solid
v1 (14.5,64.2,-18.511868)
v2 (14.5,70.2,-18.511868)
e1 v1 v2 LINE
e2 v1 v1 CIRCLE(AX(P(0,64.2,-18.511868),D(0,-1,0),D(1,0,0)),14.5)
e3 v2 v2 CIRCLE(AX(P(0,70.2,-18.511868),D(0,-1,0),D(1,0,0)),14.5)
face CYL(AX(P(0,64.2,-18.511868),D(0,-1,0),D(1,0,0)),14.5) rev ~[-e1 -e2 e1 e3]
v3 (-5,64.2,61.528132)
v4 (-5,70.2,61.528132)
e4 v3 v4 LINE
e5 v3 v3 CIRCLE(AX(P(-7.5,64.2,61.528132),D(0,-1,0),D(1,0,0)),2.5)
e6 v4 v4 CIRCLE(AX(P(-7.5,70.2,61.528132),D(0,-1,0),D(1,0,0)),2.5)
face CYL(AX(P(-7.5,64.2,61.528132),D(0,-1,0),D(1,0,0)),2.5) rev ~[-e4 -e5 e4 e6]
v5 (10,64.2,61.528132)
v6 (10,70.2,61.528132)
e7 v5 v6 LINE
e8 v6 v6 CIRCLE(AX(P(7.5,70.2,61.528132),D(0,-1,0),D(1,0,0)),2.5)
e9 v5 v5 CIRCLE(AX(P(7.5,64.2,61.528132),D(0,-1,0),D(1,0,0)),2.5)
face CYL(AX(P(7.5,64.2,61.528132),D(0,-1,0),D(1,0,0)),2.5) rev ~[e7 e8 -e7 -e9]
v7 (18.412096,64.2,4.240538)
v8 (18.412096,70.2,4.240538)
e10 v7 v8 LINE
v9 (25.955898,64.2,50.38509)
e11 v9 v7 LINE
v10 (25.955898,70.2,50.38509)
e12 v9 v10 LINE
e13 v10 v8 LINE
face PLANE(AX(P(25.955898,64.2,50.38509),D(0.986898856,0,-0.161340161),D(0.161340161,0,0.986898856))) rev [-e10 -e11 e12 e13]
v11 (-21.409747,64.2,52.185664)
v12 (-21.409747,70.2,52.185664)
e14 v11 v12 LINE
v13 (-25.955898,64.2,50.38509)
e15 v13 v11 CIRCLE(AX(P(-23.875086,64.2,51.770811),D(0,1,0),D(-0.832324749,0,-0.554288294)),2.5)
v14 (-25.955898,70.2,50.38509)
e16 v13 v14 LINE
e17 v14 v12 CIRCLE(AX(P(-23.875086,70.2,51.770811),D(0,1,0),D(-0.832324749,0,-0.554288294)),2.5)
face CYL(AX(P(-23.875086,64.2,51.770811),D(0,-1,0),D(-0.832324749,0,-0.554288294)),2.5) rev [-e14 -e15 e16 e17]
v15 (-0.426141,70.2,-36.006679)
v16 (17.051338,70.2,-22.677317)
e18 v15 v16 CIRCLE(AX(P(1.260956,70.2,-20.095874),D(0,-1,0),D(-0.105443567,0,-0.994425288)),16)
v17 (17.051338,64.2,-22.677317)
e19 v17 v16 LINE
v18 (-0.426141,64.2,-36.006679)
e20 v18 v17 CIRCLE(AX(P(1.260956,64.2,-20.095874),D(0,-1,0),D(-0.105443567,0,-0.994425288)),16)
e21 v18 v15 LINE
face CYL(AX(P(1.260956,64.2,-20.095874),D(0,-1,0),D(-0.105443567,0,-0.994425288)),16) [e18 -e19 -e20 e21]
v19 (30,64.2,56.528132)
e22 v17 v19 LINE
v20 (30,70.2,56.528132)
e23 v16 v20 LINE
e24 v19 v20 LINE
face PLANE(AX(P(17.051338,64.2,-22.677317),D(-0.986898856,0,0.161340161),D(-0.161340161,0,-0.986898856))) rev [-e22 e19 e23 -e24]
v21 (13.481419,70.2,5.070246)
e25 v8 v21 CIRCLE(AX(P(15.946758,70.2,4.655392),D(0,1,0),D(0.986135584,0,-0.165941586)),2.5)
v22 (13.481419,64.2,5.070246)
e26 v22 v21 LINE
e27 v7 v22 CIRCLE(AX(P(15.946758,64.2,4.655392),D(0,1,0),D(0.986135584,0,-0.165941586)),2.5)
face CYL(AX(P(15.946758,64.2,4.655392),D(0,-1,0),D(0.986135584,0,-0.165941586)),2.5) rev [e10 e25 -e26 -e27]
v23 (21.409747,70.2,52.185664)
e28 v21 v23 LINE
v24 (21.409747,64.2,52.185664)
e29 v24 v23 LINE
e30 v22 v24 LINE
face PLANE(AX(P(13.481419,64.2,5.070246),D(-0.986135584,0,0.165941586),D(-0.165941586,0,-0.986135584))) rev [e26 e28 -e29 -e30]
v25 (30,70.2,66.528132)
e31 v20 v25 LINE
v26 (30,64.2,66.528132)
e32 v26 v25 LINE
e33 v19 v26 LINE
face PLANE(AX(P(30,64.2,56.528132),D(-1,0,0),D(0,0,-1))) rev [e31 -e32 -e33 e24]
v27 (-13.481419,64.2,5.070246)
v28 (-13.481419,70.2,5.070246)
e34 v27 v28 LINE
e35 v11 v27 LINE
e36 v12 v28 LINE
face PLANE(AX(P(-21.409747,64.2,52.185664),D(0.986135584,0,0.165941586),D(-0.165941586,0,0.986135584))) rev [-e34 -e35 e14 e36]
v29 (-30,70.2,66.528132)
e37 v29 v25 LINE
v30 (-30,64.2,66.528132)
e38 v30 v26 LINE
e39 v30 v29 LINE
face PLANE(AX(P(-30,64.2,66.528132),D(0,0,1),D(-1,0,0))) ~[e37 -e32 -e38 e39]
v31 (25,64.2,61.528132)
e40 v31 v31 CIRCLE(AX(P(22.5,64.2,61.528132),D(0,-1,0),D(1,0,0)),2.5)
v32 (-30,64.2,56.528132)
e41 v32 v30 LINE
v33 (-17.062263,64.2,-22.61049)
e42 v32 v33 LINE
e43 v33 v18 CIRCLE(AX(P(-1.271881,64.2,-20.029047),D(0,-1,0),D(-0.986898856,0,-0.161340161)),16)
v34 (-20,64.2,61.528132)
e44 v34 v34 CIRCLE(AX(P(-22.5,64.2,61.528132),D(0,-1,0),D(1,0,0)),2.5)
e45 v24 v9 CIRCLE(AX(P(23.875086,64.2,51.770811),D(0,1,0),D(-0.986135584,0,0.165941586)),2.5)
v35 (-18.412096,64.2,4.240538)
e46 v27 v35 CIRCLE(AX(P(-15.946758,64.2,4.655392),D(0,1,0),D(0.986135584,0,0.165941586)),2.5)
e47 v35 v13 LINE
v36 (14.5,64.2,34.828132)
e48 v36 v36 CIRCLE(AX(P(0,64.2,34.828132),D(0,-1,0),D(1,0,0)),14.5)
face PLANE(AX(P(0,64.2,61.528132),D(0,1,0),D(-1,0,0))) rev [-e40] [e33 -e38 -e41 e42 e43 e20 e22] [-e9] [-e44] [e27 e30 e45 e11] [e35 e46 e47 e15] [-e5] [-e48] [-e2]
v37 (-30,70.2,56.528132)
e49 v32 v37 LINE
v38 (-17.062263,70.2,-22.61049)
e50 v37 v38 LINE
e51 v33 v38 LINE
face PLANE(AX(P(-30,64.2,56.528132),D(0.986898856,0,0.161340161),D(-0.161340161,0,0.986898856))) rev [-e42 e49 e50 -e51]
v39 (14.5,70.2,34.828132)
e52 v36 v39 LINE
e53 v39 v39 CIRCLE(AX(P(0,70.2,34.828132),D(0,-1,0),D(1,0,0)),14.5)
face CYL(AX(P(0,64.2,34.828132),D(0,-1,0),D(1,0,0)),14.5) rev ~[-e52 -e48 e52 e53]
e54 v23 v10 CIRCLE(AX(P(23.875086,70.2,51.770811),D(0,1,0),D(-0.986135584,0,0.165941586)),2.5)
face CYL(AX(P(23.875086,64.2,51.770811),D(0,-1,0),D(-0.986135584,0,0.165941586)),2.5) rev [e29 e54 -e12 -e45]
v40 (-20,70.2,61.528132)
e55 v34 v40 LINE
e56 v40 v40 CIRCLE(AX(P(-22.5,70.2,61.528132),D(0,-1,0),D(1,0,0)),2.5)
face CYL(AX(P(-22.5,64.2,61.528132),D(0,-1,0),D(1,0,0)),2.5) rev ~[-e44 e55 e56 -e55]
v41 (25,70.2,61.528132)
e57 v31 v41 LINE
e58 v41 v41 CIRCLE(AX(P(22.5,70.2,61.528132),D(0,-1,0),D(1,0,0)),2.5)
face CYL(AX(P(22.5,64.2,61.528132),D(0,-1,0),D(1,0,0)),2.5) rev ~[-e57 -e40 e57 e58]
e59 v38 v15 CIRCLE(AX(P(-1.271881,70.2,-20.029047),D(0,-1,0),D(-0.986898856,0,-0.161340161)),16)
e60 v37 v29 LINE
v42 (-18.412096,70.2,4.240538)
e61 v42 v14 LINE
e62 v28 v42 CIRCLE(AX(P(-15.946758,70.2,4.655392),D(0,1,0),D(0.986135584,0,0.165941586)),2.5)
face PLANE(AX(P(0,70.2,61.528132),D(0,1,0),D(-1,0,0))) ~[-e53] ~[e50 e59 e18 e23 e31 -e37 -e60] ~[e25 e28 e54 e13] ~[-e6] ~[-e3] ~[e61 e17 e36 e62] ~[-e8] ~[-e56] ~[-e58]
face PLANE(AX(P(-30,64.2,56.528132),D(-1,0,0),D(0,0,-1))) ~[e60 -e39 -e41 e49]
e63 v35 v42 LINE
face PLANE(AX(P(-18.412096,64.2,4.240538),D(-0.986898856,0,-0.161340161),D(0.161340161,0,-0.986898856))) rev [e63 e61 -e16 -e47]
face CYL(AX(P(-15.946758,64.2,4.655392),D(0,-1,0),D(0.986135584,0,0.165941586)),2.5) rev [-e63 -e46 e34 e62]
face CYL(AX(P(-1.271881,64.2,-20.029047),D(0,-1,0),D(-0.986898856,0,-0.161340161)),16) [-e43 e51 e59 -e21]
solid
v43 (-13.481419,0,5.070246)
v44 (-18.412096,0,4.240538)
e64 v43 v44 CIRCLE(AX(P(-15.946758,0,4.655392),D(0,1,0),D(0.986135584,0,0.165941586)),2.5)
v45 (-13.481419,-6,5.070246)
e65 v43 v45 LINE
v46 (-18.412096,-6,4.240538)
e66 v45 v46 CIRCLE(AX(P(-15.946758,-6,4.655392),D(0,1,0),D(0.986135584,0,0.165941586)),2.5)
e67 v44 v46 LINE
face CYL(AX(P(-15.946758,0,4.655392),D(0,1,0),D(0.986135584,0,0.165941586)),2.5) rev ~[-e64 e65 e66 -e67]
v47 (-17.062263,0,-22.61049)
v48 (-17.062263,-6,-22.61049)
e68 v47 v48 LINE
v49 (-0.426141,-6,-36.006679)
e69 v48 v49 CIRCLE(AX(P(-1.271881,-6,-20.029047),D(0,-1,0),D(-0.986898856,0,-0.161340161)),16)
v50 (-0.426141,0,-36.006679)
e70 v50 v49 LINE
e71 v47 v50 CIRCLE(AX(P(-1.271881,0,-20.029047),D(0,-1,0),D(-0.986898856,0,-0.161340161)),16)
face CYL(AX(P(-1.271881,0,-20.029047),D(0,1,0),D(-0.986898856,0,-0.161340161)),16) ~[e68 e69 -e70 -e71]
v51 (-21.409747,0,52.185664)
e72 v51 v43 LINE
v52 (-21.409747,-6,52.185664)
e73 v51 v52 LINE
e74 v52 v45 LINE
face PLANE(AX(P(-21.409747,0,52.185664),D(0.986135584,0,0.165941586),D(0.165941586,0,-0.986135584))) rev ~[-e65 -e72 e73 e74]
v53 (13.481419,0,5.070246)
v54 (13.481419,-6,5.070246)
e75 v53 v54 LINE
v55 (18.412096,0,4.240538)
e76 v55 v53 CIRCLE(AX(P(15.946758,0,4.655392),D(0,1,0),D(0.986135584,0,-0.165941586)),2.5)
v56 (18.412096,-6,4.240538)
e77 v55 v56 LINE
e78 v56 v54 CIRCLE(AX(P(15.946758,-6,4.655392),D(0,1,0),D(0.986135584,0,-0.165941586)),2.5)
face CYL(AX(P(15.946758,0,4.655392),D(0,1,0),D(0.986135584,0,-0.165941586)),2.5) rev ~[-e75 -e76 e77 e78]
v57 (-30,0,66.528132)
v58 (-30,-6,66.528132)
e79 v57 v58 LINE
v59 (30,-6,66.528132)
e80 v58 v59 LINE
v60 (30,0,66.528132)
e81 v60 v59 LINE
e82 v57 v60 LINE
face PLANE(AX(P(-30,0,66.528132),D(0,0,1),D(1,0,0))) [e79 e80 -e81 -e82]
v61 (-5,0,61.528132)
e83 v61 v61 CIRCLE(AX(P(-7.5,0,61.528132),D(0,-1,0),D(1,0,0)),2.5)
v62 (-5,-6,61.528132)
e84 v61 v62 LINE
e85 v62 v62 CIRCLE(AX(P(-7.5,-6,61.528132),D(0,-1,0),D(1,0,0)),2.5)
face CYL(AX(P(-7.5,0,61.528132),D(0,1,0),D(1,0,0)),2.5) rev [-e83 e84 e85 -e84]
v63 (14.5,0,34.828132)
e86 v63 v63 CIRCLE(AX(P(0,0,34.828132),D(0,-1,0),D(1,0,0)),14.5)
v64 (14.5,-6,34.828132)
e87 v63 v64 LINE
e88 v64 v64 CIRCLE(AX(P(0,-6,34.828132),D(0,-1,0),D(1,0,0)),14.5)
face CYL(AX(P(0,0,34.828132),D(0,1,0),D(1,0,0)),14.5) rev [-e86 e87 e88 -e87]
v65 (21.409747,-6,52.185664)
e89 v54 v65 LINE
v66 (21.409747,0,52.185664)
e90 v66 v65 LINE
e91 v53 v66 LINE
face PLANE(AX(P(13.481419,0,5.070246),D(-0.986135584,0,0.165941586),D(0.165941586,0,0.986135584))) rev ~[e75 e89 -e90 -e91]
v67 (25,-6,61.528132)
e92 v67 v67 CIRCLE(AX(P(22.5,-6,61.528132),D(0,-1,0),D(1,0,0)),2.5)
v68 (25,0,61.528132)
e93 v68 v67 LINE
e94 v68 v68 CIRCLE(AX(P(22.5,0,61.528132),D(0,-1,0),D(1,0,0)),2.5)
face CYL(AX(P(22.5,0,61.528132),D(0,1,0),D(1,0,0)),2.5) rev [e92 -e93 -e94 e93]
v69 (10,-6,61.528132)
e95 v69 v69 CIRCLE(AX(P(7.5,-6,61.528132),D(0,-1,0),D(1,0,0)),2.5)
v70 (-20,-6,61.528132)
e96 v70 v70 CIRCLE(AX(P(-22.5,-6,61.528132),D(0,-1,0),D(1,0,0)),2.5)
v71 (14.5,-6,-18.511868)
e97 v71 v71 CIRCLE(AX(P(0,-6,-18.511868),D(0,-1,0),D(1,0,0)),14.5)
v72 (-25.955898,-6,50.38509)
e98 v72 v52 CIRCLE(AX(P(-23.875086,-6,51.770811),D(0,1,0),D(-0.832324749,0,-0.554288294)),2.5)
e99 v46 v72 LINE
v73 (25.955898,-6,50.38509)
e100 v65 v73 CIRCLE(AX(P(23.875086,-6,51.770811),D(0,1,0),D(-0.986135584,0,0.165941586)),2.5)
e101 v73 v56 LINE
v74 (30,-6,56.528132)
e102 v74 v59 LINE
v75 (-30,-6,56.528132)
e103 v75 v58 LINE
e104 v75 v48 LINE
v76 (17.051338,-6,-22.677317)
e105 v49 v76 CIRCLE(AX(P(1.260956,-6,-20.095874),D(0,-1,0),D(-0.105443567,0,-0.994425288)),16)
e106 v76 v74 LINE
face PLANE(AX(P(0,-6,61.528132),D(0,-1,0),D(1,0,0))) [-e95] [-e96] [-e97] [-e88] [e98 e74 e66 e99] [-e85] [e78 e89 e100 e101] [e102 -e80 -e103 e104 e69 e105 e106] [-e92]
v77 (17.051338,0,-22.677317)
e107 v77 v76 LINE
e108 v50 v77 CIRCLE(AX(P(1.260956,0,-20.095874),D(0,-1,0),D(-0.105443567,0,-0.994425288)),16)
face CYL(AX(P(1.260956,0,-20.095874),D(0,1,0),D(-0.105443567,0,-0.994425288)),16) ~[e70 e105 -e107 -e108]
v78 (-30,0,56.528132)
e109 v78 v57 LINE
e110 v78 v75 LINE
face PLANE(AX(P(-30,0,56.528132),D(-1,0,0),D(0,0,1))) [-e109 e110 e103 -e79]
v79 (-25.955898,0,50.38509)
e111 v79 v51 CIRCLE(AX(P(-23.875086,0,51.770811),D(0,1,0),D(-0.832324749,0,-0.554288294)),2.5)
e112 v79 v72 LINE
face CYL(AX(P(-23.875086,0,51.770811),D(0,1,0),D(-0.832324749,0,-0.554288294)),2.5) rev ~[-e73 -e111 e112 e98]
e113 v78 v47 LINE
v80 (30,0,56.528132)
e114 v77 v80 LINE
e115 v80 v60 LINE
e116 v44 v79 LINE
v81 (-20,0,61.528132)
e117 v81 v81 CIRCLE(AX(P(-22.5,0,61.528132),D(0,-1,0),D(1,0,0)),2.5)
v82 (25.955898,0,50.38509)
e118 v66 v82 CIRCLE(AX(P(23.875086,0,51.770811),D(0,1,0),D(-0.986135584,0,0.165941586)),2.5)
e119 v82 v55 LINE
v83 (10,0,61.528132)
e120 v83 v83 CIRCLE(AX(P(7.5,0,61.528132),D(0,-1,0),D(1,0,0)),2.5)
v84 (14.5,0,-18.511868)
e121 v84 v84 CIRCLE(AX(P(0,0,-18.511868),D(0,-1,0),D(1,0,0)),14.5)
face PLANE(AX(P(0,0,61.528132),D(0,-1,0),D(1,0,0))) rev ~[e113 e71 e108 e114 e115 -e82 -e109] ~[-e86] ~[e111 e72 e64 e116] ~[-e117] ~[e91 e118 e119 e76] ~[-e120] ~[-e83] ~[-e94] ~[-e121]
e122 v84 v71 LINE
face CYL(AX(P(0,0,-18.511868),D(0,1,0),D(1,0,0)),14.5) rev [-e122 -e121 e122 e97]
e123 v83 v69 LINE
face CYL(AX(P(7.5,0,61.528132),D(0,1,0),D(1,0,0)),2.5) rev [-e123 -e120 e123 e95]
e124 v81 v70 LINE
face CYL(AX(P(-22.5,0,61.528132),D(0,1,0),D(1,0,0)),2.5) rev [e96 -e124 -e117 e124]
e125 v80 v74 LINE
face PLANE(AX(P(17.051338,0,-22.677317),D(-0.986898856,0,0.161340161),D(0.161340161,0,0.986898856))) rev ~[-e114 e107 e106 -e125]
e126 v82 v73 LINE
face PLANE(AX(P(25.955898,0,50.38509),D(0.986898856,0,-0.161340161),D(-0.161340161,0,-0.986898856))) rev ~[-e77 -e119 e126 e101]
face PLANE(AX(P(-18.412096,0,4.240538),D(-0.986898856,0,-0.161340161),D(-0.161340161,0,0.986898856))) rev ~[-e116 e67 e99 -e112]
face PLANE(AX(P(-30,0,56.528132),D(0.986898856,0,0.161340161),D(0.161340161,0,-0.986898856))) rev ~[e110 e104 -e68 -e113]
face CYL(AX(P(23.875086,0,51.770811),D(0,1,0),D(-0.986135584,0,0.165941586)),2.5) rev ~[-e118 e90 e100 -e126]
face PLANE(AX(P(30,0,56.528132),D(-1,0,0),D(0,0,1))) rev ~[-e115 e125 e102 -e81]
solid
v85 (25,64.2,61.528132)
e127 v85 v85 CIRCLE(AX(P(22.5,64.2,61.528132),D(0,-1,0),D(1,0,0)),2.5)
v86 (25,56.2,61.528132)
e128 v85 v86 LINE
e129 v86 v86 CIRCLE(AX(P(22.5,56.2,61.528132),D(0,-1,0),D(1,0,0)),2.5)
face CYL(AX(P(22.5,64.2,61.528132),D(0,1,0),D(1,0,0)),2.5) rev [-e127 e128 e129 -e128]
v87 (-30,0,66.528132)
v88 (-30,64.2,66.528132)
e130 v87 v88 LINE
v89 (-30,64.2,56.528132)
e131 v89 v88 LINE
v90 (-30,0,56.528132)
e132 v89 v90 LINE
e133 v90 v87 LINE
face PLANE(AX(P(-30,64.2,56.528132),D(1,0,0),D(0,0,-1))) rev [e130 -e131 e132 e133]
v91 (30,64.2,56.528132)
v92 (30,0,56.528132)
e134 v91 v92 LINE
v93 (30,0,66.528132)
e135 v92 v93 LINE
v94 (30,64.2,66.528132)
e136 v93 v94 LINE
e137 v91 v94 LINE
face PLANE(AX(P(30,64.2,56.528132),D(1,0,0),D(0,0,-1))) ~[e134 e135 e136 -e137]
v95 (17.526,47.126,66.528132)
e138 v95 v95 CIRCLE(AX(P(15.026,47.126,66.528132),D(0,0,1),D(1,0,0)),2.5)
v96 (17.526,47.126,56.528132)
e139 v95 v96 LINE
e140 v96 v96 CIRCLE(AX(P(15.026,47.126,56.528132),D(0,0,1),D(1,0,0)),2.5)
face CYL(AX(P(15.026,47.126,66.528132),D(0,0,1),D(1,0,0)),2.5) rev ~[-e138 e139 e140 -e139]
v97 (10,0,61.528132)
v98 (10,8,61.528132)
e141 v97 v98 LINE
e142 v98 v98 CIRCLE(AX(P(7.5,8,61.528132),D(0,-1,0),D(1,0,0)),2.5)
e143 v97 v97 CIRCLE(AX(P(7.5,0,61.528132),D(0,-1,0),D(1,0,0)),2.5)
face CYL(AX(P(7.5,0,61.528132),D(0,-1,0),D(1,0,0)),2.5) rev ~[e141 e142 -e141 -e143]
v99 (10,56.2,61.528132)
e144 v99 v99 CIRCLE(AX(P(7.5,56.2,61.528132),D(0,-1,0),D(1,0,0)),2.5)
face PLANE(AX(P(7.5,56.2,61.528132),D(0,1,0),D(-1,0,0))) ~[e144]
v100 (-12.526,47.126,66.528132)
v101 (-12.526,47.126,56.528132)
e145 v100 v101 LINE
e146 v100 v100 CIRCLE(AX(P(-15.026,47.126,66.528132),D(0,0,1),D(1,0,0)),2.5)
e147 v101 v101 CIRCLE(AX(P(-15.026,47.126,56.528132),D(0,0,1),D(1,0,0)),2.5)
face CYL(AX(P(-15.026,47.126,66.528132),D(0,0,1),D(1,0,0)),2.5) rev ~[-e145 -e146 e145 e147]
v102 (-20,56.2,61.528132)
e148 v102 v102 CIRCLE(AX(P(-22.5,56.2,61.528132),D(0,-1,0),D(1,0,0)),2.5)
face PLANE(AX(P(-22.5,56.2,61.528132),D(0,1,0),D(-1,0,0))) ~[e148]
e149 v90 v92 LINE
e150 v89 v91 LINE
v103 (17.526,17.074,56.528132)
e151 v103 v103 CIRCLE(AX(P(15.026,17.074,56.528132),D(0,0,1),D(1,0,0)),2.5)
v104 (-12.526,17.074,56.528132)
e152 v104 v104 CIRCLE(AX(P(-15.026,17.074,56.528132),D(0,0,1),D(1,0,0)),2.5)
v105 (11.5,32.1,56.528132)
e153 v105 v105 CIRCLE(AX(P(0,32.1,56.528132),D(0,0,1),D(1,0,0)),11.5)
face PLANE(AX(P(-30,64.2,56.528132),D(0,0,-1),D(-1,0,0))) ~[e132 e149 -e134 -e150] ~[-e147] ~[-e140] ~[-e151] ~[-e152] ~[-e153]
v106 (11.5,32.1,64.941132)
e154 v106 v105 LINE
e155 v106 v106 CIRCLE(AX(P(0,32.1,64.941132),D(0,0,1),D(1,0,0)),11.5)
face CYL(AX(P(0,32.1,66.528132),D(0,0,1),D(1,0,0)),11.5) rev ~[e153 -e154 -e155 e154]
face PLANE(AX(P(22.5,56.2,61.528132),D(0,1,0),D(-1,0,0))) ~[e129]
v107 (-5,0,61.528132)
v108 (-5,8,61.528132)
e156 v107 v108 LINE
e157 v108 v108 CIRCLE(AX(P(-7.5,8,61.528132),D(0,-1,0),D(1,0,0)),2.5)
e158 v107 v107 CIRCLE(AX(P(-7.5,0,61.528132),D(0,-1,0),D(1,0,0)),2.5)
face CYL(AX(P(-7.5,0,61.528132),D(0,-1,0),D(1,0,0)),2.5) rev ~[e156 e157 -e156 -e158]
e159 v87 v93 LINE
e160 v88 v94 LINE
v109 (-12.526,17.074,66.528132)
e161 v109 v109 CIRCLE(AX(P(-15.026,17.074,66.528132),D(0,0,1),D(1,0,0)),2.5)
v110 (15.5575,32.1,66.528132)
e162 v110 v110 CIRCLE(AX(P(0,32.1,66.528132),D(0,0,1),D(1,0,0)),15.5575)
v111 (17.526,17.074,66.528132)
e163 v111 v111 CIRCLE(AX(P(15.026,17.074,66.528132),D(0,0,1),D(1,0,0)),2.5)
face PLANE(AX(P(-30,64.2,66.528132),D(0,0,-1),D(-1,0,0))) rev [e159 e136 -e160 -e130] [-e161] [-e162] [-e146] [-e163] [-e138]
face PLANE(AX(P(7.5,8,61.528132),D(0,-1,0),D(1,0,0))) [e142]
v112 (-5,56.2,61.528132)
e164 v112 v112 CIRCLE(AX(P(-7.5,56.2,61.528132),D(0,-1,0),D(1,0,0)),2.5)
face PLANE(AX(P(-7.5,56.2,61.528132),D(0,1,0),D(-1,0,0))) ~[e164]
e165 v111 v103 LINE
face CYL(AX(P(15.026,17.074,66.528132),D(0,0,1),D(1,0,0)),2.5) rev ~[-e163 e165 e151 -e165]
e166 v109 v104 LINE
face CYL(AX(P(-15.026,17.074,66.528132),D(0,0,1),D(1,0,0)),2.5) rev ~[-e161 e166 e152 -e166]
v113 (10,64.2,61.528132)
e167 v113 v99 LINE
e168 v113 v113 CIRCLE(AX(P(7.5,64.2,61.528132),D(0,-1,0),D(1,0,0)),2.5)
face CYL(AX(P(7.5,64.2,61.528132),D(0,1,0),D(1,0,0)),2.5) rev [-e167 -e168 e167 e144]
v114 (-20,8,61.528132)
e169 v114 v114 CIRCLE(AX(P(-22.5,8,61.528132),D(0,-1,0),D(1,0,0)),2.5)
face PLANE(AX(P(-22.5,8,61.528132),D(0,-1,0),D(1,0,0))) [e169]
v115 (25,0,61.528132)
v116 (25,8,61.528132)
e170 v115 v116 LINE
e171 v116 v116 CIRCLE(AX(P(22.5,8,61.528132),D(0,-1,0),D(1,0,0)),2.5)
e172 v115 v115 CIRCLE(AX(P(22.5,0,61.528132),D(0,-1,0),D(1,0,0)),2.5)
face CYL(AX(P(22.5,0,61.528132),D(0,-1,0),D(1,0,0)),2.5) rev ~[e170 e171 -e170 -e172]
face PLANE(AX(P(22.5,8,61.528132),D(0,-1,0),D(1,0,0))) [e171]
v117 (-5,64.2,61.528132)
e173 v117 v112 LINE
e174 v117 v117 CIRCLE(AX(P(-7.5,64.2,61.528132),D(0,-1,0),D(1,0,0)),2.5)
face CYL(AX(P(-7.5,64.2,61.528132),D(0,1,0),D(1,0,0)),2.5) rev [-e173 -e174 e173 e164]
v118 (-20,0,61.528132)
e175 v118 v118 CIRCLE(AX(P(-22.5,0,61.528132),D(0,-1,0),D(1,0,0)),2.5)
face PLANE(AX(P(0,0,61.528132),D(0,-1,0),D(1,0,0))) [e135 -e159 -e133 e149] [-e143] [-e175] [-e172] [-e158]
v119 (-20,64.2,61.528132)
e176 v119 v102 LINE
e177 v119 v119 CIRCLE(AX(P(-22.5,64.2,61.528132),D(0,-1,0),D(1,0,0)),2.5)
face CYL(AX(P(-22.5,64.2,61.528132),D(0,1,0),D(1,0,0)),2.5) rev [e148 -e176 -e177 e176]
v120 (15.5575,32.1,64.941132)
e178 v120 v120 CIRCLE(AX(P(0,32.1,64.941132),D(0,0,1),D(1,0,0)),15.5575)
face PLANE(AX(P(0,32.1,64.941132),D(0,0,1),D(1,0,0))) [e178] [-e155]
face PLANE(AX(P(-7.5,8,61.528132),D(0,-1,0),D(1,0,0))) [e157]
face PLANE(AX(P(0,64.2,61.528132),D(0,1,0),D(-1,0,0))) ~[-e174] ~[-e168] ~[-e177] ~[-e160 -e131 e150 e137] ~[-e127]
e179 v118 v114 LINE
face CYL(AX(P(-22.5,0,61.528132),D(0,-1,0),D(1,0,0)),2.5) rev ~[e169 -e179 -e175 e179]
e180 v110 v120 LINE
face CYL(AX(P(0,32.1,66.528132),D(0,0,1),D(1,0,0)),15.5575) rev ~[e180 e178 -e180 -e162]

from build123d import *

# Parameters (mm, degrees)
F0_W      = 60
F0_H      = 10
F0_R      = 2.5
F0_R_2    = 14.5
F1_DEPTH  = 6
F2_DEPTH  = 32.1
F3_DEPTH  = 8
F6_R      = 11.5
F7_DEPTH  = 10
F8_R      = 2.5
F9_DEPTH  = 10
F10_R     = 15.5575
F11_DEPTH = 1.587


with BuildPart() as f1:
    # F0 (on Front) → F1 (new body)
    with BuildSketch(Plane.XZ):
        with Locations((0, 61.5281317513)):
            Rectangle(F0_W, F0_H)
        with Locations((-22.5, 61.5281317513)):
            Circle(F0_R, mode=Mode.SUBTRACT)
        with Locations((-7.5, 61.5281317513)):
            Circle(F0_R, mode=Mode.SUBTRACT)
        with Locations((7.5, 61.5281317513)):
            Circle(F0_R, mode=Mode.SUBTRACT)
        with Locations((22.5, 61.5281317513)):
            Circle(F0_R, mode=Mode.SUBTRACT)
        with BuildLine():
            Line((17.0513378591, -22.6773169828), (30, 56.5281317513))
            Line((30, 56.5281317513), (-30, 56.5281317513))
            Line((-30, 56.5281317513), (-17.062262926, -22.6104896287))
            ThreePointArc((-17.062262926, -22.6104896287), (-11.3068226352, -32.4909871461), (-0.4261409112, -36.00667902))
            ThreePointArc((-0.4261409112, -36.00667902), (10.9637203229, -32.8181528018), (17.0513378591, -22.6773169828))
        make_face()
        with Locations((0, -18.5118682487)):
            Circle(F0_R_2, mode=Mode.SUBTRACT)
        with BuildLine():
            ThreePointArc((-13.4814185504, 5.0702462923), (-15.5319035448, 2.1900533669), (-18.4120964702, 4.2405383614))
            Line((-18.4120964702, 4.2405383614), (-25.9558982607, 50.3850897807))
            ThreePointArc((-25.9558982607, 50.3850897807), (-24.7956745607, 54.0951421214), (-21.4097474287, 52.1856644803))
            Line((-21.4097474287, 52.1856644803), (-13.4814185504, 5.0702462923))
        make_face(mode=Mode.SUBTRACT)
        with Locations((0, 34.8281317513)):
            Circle(F0_R_2, mode=Mode.SUBTRACT)
        with BuildLine():
            Line((13.4814185504, 5.0702462923), (21.4097474287, 52.1856644803))
            ThreePointArc((21.4097474287, 52.1856644803), (24.7956745607, 54.0951421214), (25.9558982607, 50.3850897807))
            Line((25.9558982607, 50.3850897807), (18.4120964702, 4.2405383614))
            ThreePointArc((18.4120964702, 4.2405383614), (15.5319035448, 2.1900533669), (13.4814185504, 5.0702462923))
        make_face(mode=Mode.SUBTRACT)
    extrude(amount=F1_DEPTH)


with BuildPart() as f2:
    # F0 (on Front) → F2 (new body)
    with BuildSketch(Plane.XZ):
        with Locations((0, 61.5281317513)):
            Rectangle(F0_W, F0_H)
        with Locations((-22.5, 61.5281317513)):
            Circle(F0_R, mode=Mode.SUBTRACT)
        with Locations((-7.5, 61.5281317513)):
            Circle(F0_R, mode=Mode.SUBTRACT)
        with Locations((7.5, 61.5281317513)):
            Circle(F0_R, mode=Mode.SUBTRACT)
        with Locations((22.5, 61.5281317513)):
            Circle(F0_R, mode=Mode.SUBTRACT)
        with Locations((-22.5, 61.5281317513)):
            Circle(F0_R)
        with Locations((-7.5, 61.5281317513)):
            Circle(F0_R)
        with Locations((7.5, 61.5281317513)):
            Circle(F0_R)
        with Locations((22.5, 61.5281317513)):
            Circle(F0_R)
    extrude(amount=-F2_DEPTH)

    # F0 (on Front) → F3 (cut)
    with BuildSketch(Plane.XZ):
        with Locations((-22.5, 61.5281317513)):
            Circle(F0_R)
        with Locations((-7.5, 61.5281317513)):
            Circle(F0_R)
        with Locations((7.5, 61.5281317513)):
            Circle(F0_R)
        with Locations((22.5, 61.5281317513)):
            Circle(F0_R)
    extrude(amount=-F3_DEPTH, mode=Mode.SUBTRACT)

    # F5: F2 across face


with BuildPart() as f4_1:
    # F4: instance of F1
    add(f1.part.mirror(Plane(origin=(0, 32.1, 61.5281317513), x_dir=(1, 0, 0), z_dir=(0, 1, 0))))


with BuildPart() as f2_1:
    add(f2.part)
    add(f2.part.mirror(Plane(origin=(0, 32.1, 61.5281317513), x_dir=(1, 0, 0), z_dir=(0, 1, 0))))

    # F6 (on face) → F7 (cut, through all)
    with BuildSketch(Plane.XY.offset(66.5281317513)):
        with Locations((0, 32.1)):
            Circle(F6_R)
    extrude(amount=-F7_DEPTH, mode=Mode.SUBTRACT)

    # F8 (on face) → F9 (cut, through all)
    with BuildSketch(Plane.XY.offset(66.5281317513)):
        with Locations((-15.026, 47.126)):
            Circle(F8_R)
        with Locations((-15.026, 17.074)):
            Circle(F8_R)
        with Locations((15.026, 47.126)):
            Circle(F8_R)
        with Locations((15.026, 17.074)):
            Circle(F8_R)
    extrude(amount=-F9_DEPTH, mode=Mode.SUBTRACT)

    # F10 (on face) → F11 (cut)
    with BuildSketch(Plane.XY.offset(66.5281317513)):
        with Locations((0, 32.1)):
            Circle(F10_R)
    extrude(amount=-F11_DEPTH, mode=Mode.SUBTRACT)


solid = Compound([f1.part, f4_1.part, f2_1.part])
